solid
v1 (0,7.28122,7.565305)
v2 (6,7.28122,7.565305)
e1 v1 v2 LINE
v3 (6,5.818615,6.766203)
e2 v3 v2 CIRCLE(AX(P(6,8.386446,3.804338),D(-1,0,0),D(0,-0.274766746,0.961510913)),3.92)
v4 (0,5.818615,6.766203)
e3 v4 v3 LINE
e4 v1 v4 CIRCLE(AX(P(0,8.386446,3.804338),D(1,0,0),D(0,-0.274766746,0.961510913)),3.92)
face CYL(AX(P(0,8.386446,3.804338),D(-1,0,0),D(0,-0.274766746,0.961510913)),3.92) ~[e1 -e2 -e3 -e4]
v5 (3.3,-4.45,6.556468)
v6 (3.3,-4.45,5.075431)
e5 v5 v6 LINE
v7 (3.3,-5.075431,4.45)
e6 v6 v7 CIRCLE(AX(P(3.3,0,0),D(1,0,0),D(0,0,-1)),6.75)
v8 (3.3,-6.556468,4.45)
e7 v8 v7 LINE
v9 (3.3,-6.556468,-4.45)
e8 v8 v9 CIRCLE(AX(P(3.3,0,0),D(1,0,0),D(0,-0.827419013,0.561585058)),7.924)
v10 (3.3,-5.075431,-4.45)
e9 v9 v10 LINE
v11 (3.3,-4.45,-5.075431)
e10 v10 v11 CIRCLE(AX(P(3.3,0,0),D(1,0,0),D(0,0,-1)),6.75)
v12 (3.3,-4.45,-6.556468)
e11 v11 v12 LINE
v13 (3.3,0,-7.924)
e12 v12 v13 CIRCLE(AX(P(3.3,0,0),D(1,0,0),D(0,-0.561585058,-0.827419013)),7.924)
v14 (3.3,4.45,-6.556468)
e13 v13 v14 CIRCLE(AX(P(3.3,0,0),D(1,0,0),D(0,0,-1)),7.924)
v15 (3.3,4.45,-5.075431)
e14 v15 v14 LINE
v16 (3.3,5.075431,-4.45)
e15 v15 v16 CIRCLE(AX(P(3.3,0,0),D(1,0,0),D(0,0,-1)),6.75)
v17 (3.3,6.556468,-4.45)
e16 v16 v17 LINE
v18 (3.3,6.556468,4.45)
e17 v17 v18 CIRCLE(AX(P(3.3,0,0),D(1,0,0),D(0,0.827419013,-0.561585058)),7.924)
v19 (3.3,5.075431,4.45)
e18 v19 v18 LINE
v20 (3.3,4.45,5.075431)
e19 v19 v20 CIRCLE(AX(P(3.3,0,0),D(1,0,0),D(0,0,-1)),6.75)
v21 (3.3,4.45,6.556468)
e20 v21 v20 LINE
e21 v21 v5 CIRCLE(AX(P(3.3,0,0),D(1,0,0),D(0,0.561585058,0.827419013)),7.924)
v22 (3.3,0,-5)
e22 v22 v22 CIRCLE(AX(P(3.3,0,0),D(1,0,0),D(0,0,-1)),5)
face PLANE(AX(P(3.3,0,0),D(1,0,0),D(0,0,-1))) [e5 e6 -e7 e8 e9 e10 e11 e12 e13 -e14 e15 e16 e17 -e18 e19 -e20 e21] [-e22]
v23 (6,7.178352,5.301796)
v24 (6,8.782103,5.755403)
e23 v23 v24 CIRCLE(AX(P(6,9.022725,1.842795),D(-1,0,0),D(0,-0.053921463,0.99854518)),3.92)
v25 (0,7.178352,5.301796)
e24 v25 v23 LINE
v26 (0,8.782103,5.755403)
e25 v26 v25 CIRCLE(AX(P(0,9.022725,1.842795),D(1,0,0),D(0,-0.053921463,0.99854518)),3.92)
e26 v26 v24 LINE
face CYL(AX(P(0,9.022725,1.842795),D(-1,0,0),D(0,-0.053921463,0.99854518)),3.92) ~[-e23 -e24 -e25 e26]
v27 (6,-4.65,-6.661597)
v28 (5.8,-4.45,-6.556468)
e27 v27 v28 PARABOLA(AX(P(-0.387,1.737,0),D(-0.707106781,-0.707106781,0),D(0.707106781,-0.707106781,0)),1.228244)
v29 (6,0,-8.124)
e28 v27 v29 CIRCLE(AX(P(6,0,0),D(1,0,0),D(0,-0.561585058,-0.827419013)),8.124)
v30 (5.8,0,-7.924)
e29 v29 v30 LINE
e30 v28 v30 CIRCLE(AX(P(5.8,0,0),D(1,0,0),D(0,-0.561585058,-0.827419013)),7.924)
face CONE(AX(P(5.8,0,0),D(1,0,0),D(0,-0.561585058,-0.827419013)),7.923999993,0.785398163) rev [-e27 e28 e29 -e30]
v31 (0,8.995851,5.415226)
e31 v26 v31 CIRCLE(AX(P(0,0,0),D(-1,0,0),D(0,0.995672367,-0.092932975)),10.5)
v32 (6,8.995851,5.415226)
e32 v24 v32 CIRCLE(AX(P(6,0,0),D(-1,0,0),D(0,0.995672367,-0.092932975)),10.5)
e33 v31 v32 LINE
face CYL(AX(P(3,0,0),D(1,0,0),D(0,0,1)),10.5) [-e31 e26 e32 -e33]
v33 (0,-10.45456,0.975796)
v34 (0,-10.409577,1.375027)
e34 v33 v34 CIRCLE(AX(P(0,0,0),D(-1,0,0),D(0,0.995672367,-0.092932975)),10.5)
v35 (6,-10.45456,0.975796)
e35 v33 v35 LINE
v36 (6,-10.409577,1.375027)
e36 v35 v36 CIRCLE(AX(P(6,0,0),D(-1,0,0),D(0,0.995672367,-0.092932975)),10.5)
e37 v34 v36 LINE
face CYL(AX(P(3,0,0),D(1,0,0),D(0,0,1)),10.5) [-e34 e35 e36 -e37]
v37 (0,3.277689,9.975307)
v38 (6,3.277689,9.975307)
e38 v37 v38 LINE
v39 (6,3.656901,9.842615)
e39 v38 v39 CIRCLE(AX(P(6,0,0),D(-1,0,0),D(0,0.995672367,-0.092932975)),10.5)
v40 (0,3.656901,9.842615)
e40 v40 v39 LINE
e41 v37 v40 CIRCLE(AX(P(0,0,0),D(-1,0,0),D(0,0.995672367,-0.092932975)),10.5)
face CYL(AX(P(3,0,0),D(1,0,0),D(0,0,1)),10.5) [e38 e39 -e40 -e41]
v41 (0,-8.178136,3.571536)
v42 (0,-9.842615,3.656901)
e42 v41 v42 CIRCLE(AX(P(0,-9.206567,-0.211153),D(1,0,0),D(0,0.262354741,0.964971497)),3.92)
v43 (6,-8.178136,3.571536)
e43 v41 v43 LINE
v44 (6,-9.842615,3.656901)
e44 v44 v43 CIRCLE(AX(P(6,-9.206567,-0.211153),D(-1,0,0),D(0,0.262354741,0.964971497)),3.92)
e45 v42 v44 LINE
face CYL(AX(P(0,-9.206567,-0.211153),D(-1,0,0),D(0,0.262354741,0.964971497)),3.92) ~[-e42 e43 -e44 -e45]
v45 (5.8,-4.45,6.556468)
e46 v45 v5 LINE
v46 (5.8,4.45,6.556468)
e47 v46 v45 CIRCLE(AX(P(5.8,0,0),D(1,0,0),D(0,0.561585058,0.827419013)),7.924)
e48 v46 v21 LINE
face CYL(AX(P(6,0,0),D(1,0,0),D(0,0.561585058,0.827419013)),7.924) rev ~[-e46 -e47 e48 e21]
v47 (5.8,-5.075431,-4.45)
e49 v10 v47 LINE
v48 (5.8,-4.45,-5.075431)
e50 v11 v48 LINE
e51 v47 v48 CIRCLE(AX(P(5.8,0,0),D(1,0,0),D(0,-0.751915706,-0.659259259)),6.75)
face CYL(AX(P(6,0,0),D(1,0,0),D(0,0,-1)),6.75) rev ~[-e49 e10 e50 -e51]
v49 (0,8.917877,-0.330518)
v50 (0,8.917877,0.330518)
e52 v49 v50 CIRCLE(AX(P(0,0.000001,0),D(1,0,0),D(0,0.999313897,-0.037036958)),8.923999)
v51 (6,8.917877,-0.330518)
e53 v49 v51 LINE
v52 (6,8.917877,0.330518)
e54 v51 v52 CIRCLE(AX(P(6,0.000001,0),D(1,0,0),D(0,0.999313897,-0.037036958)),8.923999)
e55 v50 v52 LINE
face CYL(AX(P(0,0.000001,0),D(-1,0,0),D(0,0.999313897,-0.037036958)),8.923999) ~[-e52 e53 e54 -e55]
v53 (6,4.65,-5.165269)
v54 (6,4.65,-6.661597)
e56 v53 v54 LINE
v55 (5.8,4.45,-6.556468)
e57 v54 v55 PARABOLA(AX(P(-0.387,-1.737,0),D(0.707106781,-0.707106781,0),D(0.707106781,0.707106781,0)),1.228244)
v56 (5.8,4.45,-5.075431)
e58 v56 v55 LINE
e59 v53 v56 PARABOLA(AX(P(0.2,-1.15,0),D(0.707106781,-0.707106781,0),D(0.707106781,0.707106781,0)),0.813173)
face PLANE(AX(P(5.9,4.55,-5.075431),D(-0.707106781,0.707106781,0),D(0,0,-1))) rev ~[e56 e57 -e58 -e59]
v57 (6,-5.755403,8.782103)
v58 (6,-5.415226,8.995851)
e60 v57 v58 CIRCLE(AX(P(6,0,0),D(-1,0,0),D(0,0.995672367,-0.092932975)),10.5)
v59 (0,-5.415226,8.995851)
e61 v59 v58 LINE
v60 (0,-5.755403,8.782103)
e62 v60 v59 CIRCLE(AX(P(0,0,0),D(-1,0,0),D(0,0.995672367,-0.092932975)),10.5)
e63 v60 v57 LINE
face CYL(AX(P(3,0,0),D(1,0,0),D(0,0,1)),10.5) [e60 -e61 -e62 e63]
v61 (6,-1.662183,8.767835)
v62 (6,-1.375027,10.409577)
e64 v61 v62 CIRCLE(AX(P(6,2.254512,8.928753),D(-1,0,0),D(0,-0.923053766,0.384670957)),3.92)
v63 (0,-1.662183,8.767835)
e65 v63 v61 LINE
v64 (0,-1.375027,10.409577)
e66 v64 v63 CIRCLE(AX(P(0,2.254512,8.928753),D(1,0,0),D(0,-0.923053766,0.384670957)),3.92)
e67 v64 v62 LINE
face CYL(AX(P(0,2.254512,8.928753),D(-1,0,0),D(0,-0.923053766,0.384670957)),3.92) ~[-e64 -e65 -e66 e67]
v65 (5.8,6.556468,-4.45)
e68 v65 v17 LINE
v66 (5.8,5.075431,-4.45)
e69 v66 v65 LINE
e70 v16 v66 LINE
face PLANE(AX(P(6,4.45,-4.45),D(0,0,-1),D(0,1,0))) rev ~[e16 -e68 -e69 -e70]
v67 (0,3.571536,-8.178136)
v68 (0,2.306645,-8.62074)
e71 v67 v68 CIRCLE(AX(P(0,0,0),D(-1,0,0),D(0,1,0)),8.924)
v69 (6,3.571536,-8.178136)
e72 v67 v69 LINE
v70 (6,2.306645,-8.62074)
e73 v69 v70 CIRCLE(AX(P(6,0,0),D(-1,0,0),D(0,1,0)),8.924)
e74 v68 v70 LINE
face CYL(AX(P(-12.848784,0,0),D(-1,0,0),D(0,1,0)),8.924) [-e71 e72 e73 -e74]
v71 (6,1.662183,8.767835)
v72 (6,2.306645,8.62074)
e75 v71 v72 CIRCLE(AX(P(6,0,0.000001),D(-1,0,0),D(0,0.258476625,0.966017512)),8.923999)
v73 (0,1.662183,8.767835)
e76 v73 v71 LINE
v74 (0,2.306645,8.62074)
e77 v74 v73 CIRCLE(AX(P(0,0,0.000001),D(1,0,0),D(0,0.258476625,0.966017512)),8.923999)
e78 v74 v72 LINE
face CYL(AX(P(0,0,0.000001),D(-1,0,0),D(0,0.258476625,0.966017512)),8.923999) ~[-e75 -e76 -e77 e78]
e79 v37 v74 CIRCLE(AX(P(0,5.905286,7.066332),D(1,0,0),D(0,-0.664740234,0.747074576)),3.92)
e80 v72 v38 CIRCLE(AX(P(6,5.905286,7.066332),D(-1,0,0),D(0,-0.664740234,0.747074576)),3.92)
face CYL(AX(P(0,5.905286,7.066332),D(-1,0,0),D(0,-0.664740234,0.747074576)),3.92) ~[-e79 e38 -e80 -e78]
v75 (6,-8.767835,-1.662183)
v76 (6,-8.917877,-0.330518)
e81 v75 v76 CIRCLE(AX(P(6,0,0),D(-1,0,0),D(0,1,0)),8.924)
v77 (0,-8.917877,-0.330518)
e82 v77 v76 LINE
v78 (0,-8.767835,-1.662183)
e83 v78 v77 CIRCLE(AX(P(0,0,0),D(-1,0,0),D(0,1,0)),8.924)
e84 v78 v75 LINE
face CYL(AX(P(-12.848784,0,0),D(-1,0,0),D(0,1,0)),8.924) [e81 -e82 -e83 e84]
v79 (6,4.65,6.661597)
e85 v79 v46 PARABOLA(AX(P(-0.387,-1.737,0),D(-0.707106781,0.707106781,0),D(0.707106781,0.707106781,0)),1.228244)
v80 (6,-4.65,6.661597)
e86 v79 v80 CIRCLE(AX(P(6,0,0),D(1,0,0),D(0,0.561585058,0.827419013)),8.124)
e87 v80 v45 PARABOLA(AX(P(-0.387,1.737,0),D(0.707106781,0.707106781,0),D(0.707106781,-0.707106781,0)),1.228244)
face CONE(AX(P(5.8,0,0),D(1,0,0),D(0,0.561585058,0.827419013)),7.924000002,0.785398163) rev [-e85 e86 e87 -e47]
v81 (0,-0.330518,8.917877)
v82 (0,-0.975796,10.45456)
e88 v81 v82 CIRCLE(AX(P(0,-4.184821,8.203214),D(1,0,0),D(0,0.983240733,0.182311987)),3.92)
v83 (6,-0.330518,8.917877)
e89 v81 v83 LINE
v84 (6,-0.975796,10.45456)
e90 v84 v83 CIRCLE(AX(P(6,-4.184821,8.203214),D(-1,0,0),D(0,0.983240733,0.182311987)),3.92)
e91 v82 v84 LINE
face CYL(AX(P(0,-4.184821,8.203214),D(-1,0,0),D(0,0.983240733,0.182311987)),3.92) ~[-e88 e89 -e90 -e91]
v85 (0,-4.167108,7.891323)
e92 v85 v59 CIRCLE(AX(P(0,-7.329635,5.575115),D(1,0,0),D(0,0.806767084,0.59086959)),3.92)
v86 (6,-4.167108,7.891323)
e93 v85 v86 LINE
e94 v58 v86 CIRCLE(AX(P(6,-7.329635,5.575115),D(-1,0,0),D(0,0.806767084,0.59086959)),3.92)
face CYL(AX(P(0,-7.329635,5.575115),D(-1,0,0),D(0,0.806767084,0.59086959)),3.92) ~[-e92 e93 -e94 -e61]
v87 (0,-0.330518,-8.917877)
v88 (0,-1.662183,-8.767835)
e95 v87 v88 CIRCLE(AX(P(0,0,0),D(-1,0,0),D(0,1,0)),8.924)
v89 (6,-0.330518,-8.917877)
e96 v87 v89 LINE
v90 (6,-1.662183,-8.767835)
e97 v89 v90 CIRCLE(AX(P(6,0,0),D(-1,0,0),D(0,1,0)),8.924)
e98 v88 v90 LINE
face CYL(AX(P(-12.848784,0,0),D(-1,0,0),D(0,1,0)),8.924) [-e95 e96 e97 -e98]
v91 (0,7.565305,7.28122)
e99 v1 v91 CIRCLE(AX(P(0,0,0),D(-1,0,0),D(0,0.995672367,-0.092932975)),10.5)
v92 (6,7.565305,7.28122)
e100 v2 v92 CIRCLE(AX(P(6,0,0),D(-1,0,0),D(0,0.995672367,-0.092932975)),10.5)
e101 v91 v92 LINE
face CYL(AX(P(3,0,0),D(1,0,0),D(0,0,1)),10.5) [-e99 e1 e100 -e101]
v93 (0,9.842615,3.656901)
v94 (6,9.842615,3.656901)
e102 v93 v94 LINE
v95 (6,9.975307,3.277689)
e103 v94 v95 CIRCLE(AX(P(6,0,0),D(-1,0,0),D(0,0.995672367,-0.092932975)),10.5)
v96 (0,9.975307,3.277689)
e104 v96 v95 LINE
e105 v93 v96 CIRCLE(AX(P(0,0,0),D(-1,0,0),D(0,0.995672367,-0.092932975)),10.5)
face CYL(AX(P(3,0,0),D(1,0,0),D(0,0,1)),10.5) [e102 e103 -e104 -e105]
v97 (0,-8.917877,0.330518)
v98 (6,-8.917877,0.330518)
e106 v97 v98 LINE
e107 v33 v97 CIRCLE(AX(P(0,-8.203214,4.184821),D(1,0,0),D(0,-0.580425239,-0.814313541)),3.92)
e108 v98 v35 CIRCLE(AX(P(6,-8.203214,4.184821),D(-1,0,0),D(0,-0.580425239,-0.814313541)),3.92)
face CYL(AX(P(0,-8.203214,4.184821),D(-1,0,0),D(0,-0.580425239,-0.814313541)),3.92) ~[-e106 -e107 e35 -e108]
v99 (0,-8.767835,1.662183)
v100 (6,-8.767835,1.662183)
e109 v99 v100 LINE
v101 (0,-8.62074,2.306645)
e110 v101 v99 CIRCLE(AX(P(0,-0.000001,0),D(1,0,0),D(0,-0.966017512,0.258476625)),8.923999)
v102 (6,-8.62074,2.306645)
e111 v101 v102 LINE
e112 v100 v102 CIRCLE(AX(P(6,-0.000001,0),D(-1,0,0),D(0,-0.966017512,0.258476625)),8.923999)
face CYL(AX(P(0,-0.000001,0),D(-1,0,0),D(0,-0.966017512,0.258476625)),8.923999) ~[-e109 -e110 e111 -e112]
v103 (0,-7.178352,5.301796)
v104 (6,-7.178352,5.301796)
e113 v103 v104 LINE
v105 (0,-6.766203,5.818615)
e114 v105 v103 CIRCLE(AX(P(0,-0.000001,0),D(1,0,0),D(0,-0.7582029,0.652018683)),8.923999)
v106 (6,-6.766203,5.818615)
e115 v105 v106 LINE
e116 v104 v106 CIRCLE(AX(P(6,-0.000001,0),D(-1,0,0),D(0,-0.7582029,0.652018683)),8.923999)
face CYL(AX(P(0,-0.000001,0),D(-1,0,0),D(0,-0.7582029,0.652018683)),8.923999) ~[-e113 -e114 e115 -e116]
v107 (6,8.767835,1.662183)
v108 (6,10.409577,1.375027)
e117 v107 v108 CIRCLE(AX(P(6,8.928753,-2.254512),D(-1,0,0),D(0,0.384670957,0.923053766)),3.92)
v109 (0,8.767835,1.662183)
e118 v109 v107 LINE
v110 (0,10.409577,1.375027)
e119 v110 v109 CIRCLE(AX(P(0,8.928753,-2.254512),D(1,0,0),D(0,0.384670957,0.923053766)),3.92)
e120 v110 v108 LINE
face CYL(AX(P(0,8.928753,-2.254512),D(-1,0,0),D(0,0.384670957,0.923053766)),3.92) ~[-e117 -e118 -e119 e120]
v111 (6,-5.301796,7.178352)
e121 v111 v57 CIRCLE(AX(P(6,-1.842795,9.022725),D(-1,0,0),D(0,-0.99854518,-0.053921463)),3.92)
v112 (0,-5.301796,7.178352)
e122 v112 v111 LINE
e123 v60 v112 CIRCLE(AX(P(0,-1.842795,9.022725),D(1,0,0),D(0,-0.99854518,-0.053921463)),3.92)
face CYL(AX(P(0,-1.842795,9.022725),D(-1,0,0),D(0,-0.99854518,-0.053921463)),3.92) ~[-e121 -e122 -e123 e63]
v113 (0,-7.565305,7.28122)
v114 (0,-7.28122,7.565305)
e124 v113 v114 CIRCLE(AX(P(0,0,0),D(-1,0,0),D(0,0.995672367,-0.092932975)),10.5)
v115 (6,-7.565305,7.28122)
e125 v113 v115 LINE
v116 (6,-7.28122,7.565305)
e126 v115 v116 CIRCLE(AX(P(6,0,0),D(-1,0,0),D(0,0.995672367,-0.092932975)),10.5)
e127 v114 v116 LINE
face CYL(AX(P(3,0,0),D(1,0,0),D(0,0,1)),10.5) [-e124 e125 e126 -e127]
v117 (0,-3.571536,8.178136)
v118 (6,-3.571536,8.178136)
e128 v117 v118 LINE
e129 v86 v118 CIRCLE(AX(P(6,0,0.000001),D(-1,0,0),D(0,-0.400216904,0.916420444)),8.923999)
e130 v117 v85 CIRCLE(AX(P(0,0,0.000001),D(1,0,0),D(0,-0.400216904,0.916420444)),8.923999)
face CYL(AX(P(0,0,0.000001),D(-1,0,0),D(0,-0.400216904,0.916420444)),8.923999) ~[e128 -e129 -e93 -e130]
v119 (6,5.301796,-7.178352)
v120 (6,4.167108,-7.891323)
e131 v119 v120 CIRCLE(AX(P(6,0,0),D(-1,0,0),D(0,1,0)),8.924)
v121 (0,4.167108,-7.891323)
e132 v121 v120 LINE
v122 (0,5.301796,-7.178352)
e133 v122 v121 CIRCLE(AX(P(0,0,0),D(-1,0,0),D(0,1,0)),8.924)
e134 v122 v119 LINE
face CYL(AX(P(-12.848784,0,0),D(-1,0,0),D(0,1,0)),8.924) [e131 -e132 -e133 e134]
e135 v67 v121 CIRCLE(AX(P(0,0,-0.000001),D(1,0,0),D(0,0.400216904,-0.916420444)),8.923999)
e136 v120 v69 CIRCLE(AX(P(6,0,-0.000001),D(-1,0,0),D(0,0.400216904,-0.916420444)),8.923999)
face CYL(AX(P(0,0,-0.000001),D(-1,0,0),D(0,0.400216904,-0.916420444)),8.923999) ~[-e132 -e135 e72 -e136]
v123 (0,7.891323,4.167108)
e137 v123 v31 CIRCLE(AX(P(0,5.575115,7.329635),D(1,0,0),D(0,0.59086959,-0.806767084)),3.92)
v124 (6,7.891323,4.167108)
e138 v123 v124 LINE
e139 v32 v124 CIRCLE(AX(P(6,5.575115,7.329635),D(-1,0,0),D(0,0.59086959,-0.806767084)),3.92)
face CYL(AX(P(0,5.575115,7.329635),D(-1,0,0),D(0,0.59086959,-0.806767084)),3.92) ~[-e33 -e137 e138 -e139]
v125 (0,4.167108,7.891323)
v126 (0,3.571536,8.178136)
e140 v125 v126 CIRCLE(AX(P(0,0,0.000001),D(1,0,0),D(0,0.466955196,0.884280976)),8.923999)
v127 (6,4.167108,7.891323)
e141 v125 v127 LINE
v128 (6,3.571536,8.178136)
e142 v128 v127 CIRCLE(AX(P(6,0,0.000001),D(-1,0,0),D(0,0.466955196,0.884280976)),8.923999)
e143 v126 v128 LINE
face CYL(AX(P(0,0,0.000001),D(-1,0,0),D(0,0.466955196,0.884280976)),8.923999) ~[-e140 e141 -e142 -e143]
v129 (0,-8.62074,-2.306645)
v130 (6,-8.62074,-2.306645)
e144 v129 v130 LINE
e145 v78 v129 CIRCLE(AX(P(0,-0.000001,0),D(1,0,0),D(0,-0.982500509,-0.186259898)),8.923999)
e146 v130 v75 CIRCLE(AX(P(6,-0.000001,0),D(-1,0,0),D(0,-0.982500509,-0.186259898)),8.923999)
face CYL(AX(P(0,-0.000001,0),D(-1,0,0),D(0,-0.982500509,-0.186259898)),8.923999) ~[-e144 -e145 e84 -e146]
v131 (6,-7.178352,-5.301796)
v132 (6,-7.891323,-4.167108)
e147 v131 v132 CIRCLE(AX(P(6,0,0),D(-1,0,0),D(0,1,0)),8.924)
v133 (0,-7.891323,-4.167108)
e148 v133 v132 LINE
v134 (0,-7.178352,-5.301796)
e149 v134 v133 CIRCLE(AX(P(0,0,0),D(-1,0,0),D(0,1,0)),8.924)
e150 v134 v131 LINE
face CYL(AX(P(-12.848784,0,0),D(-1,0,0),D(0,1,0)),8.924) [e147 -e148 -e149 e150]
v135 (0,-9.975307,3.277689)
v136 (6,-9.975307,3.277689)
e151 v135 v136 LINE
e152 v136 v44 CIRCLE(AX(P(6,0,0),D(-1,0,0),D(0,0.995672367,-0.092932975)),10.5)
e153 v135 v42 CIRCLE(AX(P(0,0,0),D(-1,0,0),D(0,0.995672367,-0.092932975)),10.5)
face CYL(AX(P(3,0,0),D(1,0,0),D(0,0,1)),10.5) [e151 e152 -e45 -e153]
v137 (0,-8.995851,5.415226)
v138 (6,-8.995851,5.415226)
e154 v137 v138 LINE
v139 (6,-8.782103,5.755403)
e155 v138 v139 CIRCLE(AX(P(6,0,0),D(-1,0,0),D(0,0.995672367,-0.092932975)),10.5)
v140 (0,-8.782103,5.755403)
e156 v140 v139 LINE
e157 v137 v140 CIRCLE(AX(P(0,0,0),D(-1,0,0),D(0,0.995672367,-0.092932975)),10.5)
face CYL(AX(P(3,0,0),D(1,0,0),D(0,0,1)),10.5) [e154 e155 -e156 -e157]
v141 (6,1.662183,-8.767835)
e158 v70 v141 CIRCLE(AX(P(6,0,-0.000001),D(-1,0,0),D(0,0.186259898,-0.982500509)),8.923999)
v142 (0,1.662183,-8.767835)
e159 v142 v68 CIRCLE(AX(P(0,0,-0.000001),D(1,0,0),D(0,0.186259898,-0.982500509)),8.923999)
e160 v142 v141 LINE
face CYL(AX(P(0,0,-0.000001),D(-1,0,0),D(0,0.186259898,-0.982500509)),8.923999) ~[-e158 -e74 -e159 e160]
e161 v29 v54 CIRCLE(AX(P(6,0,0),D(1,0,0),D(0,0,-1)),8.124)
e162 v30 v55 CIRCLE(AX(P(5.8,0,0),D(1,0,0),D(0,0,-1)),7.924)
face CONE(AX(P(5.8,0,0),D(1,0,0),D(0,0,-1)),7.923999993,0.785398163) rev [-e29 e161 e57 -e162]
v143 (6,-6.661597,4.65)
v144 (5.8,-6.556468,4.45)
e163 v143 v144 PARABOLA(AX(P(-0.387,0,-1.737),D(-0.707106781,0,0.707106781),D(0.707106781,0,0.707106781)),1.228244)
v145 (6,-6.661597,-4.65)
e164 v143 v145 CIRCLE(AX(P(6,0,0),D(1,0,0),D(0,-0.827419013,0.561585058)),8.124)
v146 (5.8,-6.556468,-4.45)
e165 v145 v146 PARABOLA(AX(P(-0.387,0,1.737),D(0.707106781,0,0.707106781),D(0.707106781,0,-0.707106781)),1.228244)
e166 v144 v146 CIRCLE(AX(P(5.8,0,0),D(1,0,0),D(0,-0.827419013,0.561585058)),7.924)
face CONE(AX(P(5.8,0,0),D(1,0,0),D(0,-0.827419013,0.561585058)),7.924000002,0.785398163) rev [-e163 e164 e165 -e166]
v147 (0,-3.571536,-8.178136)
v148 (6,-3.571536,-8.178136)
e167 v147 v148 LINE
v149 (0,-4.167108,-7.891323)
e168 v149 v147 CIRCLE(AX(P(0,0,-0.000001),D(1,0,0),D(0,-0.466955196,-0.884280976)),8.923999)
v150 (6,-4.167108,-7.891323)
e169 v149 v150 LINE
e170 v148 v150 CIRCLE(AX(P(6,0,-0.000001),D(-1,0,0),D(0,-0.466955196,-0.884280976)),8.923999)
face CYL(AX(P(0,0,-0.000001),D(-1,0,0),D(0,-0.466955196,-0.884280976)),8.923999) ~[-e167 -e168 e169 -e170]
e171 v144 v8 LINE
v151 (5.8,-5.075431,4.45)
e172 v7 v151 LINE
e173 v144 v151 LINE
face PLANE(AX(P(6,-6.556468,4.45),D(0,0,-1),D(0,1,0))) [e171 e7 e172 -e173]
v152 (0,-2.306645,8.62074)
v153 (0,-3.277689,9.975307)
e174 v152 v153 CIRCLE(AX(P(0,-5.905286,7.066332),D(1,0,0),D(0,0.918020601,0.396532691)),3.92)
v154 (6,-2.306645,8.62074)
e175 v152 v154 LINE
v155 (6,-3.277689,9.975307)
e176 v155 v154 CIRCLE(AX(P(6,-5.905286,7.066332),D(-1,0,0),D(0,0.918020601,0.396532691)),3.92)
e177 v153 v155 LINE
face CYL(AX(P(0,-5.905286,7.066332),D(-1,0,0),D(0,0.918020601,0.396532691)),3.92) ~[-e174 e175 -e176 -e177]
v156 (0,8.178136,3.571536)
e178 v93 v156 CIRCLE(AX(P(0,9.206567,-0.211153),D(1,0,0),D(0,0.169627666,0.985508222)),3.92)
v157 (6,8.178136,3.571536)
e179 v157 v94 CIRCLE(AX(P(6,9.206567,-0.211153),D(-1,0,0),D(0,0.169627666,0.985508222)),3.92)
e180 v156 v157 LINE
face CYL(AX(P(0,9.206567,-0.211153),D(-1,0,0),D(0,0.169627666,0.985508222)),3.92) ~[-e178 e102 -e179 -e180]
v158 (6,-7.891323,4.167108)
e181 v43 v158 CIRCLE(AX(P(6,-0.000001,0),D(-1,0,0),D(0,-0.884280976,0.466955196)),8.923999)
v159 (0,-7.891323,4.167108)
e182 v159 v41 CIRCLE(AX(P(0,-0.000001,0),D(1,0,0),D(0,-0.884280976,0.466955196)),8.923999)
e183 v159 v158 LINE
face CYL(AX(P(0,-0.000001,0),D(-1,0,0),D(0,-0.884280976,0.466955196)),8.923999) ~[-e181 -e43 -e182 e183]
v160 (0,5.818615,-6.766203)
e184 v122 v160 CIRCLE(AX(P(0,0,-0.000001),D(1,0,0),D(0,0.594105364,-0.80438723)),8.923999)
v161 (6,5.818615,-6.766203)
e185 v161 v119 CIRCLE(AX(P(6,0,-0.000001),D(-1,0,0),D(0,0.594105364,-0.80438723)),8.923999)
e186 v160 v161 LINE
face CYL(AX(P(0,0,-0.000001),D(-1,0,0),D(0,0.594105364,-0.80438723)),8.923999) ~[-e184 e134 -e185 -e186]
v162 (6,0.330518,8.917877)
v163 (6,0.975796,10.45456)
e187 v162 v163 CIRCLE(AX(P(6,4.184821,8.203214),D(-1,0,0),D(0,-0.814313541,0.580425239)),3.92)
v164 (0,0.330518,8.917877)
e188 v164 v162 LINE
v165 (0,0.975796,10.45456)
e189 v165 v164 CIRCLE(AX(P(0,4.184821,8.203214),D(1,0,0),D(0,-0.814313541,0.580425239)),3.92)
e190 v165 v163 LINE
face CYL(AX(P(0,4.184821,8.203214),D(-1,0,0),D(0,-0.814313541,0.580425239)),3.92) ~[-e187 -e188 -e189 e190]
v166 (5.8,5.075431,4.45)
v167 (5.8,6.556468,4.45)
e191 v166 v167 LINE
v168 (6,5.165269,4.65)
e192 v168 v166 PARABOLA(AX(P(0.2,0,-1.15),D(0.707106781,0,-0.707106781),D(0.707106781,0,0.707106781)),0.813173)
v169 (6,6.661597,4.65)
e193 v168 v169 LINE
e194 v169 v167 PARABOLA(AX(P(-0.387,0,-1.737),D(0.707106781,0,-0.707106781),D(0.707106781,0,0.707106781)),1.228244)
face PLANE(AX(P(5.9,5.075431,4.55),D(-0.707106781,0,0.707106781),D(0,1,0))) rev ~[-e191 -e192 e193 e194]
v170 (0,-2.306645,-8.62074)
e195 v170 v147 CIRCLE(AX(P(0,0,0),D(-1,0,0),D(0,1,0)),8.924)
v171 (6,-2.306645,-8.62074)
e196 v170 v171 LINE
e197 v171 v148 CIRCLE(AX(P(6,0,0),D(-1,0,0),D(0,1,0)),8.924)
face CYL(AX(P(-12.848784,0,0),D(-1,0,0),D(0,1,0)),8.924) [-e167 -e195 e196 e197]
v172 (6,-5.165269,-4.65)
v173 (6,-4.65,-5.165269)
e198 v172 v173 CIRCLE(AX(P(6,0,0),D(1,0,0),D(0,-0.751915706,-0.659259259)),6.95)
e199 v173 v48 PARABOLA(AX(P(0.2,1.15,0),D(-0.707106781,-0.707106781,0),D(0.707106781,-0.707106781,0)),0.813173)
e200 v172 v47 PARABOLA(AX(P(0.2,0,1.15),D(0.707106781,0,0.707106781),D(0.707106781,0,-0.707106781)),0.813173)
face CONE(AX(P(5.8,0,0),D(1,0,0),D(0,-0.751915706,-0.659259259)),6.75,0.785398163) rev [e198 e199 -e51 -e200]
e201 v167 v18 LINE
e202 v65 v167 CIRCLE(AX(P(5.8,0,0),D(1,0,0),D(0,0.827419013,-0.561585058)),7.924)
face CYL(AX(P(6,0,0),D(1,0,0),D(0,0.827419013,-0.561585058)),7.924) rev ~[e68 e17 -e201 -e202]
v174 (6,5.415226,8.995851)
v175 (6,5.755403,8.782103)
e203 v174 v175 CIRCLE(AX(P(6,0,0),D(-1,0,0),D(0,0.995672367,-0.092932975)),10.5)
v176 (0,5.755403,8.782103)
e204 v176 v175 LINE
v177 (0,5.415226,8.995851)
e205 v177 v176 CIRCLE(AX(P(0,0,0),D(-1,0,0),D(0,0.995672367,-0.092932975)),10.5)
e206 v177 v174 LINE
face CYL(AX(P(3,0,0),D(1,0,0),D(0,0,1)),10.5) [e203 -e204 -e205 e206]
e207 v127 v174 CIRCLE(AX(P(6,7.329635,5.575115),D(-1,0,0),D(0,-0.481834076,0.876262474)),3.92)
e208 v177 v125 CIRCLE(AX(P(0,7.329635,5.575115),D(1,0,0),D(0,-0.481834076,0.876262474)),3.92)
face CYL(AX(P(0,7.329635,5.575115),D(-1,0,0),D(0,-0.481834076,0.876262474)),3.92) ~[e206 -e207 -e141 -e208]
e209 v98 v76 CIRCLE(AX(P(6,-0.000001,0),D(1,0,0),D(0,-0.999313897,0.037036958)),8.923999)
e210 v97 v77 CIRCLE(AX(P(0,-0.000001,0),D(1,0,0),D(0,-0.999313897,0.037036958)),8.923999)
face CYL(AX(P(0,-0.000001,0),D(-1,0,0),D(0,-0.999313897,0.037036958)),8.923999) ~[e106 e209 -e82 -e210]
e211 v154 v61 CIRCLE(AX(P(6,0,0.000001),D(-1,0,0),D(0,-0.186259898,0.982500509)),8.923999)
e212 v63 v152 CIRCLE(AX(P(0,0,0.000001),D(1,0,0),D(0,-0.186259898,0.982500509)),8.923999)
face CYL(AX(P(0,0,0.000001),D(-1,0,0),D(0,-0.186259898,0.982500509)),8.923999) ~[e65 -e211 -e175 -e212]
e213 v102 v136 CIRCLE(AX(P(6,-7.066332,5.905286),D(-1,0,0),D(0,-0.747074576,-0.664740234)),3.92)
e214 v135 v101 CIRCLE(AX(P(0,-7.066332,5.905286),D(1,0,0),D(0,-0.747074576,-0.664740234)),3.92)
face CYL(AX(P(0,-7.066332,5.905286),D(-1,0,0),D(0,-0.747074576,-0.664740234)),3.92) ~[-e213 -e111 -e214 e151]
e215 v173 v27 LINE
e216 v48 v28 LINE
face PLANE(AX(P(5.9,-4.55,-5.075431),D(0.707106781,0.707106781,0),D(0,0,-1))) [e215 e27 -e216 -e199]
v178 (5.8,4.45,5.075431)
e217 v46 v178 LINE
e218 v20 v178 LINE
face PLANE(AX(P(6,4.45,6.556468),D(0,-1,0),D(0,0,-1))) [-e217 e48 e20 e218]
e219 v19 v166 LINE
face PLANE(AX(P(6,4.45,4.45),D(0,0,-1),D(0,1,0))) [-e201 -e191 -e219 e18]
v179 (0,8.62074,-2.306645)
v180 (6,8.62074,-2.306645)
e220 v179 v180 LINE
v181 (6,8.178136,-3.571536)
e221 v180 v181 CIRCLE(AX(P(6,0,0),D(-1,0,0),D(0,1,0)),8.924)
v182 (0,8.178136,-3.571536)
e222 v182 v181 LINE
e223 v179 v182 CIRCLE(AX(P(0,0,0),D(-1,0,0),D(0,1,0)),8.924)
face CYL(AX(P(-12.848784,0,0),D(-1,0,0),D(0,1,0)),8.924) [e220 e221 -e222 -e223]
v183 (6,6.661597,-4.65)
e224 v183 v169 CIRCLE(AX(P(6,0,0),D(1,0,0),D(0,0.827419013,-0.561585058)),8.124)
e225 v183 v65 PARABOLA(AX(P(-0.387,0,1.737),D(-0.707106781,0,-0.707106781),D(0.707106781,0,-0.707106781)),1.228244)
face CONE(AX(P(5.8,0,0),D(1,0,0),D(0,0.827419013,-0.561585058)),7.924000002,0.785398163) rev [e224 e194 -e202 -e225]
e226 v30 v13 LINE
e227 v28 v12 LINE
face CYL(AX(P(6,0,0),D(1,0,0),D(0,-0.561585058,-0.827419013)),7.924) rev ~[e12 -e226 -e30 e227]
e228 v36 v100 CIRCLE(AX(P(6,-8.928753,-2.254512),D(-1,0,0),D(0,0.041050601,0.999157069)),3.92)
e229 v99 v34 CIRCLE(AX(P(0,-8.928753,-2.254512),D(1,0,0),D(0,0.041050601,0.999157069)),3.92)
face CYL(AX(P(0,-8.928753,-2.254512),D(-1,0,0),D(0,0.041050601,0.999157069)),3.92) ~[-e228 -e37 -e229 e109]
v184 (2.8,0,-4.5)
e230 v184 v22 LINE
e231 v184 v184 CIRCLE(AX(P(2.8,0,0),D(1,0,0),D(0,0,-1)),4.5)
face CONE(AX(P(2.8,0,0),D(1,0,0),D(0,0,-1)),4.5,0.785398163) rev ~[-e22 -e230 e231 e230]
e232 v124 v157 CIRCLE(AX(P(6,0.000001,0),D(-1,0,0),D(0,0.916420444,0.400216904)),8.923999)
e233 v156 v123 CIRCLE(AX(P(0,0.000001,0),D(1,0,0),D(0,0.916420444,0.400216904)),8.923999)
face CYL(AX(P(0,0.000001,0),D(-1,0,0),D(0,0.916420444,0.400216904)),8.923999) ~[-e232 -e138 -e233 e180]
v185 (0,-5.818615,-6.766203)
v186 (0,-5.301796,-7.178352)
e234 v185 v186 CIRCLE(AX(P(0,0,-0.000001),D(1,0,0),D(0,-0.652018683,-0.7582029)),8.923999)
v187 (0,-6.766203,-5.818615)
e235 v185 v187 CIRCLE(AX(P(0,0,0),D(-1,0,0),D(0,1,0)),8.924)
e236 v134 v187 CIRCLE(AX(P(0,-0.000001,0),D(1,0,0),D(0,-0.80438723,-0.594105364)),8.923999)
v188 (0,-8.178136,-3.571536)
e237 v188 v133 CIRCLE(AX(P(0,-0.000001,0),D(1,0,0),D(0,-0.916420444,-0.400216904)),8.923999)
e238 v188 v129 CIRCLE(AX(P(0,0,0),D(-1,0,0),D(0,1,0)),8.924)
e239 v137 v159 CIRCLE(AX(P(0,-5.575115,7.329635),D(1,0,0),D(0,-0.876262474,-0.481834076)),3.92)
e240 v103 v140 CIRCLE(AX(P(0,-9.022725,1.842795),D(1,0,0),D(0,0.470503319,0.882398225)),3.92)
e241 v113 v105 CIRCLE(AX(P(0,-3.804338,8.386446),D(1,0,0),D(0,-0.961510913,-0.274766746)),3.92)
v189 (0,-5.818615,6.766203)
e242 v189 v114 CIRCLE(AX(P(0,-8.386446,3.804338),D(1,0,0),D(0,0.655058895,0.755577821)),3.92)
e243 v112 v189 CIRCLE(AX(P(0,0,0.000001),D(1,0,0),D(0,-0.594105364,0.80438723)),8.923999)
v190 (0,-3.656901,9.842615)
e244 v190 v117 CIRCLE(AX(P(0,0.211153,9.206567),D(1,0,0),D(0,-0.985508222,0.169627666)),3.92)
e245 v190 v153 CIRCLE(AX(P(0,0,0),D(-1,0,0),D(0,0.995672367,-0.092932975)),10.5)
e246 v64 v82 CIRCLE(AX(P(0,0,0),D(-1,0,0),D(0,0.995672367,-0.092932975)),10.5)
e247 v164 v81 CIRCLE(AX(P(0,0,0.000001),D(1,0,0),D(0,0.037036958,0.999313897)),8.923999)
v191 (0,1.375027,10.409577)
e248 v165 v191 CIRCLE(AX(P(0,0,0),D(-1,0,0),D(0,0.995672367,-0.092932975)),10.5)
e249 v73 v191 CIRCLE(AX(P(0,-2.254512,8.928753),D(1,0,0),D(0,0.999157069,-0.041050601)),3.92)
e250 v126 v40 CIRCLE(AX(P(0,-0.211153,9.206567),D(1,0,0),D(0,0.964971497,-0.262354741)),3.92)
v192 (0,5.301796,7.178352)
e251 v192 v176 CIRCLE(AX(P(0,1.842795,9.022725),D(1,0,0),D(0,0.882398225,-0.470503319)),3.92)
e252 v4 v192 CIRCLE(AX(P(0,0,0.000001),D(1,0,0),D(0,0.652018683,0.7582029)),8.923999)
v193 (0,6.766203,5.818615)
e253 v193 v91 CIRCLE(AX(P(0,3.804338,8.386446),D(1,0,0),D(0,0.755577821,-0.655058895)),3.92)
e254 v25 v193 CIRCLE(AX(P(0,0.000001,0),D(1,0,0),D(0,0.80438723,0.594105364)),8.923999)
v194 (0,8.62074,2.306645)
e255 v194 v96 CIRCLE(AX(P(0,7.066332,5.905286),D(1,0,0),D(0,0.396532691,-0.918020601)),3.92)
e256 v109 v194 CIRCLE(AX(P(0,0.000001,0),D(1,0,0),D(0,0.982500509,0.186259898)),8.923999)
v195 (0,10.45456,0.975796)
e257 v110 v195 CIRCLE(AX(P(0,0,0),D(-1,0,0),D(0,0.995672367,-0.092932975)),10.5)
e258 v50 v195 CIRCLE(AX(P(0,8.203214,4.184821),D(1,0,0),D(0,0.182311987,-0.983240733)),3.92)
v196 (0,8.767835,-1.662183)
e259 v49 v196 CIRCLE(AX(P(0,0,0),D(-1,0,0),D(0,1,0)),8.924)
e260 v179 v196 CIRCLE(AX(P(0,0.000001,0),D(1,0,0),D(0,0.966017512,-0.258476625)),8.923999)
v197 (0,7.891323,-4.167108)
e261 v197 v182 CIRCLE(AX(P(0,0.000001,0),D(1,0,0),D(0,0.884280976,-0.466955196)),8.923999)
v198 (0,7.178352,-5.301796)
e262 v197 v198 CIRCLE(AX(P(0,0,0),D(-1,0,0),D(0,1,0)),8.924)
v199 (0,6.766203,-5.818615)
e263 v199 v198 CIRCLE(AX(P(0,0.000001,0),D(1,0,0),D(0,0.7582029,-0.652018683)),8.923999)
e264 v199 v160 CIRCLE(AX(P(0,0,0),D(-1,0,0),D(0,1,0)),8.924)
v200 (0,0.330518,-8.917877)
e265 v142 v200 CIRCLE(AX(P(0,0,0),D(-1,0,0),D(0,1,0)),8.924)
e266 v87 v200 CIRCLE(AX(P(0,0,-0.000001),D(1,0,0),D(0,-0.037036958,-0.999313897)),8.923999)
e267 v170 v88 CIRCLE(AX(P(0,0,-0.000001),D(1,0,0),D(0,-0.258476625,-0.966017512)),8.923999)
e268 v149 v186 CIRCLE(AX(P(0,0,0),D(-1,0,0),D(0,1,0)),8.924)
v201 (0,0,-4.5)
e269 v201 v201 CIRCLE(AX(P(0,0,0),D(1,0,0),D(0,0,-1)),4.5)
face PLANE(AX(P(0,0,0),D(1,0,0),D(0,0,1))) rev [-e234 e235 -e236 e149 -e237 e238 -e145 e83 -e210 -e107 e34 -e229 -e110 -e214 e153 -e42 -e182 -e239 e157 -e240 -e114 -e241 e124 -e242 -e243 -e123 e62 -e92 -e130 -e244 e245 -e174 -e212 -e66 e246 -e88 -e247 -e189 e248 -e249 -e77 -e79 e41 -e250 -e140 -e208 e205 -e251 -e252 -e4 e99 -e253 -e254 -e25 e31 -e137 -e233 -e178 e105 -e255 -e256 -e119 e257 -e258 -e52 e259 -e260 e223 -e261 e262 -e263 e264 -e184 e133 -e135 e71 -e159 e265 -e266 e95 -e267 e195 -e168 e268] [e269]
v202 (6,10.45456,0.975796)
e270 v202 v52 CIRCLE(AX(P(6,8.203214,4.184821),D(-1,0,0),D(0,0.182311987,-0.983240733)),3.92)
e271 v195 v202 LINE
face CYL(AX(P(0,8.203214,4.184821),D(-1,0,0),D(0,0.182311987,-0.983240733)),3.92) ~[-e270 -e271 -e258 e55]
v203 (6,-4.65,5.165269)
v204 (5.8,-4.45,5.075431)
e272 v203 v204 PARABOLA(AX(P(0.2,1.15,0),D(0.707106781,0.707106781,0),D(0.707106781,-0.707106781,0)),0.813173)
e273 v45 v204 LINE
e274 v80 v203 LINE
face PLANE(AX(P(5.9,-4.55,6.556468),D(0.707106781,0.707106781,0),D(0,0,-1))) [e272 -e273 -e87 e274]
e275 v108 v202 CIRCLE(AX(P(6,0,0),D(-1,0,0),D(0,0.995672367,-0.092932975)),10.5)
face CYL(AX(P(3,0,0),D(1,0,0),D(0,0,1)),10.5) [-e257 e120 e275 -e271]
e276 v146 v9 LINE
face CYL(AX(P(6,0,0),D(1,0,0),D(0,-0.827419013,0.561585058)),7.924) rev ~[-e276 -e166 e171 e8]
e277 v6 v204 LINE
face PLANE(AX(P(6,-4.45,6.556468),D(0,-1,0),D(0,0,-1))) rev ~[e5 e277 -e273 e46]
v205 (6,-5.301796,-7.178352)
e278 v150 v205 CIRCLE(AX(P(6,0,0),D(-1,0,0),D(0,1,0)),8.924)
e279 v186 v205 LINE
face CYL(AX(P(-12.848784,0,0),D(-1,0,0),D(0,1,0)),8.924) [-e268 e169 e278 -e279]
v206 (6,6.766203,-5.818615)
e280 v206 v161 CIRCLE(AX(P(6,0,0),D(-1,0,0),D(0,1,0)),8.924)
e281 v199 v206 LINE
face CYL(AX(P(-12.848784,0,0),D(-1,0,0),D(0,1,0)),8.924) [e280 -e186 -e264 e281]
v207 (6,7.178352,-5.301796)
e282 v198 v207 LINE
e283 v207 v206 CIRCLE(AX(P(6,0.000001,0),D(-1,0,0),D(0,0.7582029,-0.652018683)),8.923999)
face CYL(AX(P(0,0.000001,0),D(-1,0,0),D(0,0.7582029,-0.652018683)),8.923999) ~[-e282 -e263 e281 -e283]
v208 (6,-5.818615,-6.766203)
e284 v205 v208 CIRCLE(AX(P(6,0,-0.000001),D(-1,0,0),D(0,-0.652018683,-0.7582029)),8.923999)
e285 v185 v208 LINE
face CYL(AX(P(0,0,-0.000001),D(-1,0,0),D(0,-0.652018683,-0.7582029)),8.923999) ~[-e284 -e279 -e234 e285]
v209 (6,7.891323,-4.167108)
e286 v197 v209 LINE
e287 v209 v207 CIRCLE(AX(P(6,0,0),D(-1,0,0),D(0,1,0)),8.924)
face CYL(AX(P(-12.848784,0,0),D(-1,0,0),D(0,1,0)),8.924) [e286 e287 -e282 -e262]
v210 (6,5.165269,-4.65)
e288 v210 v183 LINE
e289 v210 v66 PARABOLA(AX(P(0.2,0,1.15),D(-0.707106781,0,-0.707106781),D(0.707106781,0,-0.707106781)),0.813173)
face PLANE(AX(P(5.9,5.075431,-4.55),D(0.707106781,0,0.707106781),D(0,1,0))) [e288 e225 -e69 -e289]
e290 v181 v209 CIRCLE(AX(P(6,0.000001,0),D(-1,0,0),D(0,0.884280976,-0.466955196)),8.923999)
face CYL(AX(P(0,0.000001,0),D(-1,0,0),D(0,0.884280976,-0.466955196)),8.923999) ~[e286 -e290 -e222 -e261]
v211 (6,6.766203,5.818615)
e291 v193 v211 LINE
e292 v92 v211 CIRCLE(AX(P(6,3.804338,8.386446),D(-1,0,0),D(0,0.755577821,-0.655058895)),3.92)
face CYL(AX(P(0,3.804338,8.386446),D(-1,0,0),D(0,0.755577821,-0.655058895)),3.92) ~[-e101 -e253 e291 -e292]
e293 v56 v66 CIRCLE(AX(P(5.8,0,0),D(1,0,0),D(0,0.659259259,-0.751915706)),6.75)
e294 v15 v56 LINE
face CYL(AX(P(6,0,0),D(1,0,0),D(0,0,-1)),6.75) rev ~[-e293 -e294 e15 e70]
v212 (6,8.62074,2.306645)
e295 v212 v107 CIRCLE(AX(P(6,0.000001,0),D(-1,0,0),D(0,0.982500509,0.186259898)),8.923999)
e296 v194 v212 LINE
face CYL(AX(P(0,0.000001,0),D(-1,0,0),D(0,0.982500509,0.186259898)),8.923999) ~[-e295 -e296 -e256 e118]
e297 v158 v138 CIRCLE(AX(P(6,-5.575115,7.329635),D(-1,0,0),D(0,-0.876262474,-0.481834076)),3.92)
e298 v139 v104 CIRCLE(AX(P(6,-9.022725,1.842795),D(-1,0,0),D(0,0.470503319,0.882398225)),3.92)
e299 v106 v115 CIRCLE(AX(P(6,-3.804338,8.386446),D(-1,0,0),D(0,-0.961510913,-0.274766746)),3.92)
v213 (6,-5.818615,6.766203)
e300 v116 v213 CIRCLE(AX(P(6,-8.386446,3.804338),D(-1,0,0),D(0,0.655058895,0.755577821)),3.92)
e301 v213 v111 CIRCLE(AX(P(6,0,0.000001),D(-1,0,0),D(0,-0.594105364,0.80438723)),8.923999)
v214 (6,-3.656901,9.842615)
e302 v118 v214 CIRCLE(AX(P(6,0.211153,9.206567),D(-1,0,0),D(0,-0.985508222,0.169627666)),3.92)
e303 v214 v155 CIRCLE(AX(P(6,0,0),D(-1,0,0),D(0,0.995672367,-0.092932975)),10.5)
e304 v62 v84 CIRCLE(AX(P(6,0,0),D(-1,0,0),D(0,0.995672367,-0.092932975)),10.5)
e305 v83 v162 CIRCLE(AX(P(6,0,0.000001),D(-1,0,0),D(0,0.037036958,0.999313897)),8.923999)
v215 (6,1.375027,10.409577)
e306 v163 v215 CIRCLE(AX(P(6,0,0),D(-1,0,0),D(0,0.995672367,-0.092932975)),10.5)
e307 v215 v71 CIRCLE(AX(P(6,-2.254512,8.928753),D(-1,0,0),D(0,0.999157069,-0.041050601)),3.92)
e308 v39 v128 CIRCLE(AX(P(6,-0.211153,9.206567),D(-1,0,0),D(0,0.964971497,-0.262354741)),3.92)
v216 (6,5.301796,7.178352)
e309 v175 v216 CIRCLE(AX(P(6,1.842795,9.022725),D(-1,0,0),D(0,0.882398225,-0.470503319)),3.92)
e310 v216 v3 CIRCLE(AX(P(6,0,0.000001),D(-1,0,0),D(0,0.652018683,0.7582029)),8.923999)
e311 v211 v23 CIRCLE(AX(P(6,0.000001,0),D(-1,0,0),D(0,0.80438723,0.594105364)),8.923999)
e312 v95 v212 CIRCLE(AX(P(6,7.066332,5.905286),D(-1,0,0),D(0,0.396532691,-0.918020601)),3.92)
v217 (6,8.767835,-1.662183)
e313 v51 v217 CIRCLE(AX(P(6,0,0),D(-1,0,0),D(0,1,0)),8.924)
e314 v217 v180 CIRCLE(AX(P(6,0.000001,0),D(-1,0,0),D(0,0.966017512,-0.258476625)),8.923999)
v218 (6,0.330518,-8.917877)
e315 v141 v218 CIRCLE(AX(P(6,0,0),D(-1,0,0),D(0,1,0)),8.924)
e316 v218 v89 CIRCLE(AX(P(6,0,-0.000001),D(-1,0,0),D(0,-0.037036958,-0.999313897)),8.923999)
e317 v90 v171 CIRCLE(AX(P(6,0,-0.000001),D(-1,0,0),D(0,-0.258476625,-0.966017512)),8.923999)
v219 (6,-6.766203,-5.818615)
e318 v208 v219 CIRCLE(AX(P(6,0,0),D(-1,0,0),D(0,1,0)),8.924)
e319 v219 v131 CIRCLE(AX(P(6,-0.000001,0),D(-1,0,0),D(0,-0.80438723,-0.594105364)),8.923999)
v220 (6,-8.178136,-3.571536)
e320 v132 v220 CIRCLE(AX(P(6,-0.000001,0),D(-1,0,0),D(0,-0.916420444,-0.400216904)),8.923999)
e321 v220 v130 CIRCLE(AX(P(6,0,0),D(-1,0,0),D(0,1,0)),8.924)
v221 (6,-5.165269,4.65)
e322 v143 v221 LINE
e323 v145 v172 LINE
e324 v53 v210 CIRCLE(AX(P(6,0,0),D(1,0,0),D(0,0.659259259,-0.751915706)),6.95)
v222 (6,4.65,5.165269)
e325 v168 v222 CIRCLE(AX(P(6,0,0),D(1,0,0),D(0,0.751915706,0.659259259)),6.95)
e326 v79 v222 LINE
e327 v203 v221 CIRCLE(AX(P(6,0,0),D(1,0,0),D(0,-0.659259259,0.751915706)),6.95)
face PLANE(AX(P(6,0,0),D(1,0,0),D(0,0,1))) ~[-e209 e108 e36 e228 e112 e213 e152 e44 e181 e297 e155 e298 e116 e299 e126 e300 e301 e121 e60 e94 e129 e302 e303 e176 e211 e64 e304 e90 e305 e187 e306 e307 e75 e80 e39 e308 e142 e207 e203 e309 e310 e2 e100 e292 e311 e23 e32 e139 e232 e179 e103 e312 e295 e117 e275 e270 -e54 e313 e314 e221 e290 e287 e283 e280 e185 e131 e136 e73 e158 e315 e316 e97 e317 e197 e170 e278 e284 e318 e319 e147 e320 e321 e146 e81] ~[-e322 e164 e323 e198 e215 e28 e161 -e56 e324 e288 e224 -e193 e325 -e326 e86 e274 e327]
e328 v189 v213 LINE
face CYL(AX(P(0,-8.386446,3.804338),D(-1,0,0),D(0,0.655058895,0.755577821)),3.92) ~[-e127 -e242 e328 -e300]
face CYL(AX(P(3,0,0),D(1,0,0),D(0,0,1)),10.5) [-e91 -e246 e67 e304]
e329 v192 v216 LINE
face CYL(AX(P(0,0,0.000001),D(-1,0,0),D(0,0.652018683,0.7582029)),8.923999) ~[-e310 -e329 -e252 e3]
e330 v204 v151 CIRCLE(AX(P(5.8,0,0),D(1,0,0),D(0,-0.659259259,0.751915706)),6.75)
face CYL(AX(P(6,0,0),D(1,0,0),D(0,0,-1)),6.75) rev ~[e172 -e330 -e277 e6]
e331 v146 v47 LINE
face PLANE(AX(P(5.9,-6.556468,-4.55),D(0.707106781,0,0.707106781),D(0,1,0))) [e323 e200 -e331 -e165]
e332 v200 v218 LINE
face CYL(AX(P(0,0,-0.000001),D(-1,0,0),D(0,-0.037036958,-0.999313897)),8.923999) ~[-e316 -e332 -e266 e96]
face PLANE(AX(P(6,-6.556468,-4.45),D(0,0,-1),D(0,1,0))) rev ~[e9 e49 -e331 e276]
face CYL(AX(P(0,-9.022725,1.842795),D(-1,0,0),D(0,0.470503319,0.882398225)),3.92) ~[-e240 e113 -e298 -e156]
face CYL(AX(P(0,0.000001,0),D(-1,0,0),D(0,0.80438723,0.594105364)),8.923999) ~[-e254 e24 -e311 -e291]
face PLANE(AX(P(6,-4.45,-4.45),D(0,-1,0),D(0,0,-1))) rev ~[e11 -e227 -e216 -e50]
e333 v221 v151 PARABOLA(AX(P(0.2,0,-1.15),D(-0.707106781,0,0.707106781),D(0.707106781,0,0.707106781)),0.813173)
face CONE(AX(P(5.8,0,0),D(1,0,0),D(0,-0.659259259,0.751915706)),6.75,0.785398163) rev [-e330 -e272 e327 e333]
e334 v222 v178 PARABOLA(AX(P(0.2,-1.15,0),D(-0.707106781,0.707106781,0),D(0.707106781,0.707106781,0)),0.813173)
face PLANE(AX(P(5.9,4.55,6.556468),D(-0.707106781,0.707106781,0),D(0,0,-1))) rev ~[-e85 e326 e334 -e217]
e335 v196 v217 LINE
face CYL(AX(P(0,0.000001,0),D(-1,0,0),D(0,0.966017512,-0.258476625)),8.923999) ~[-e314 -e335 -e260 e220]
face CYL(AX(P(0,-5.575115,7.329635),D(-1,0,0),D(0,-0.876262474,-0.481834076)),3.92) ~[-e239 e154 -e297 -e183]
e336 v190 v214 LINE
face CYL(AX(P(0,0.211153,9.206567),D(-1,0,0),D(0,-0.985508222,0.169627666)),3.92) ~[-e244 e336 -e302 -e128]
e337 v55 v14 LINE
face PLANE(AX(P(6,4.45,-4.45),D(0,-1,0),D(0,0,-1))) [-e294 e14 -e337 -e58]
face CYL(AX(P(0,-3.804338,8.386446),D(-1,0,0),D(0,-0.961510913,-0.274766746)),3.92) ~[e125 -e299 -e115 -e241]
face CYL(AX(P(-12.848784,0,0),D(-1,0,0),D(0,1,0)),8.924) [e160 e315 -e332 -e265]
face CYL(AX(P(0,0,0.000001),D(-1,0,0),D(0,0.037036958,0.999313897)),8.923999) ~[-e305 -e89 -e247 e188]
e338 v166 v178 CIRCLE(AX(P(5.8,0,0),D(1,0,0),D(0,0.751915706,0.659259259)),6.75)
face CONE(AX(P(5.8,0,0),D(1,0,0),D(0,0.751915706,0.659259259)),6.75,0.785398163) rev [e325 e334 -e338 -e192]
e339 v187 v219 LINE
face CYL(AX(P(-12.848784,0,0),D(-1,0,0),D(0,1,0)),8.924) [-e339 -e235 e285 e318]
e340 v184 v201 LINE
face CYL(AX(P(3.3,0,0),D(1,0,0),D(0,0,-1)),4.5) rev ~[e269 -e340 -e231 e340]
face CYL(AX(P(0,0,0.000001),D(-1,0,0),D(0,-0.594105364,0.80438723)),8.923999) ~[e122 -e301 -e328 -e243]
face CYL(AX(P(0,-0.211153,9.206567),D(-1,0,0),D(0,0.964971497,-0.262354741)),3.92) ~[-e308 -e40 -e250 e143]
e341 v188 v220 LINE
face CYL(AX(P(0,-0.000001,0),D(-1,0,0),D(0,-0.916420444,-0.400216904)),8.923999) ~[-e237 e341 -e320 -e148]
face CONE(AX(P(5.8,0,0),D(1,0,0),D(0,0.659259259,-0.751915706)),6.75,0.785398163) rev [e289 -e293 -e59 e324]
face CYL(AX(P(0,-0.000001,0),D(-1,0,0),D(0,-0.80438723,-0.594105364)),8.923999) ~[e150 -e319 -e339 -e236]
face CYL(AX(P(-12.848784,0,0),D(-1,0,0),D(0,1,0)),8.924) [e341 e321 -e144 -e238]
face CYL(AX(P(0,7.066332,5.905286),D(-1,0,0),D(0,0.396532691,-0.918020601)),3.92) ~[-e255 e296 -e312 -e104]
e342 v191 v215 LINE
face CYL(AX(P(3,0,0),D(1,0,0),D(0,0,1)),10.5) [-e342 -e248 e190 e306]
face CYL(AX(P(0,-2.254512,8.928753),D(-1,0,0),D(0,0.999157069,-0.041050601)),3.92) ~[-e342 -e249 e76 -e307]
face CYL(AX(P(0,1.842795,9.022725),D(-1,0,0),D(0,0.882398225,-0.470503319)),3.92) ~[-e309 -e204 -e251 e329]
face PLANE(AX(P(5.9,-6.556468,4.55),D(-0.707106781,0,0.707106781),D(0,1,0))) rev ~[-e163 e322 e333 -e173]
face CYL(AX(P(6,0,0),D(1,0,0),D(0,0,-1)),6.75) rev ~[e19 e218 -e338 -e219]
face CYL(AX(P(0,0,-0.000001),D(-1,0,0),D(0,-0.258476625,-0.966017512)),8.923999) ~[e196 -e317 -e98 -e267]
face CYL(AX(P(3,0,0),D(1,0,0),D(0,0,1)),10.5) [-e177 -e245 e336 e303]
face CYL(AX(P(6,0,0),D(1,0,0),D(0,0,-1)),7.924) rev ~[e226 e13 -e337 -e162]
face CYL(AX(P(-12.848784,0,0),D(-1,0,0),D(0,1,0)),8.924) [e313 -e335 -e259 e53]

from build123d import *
from build123d.topology import SkipClean

# Parameters (mm, degrees)
BASPROSKE_W                     = 6
BASPROSKE_H                     = 10.5
TOOTHCUT_DEPTH                  = 17.015617378
TEETHCUTS_COUNT                 = 28
TEETHCUTS_ANGLE                 = 347.142857143
BORSKE_R                        = 1.5
BORE_DEPTH                      = 50.0000508
SZKIC1_R                        = 6.75
WYTNIJ_WYCI_GNI_CIE1_DEPTH      = 2.7
SZKIC2_R                        = 4.5
WYTNIJ_WYCI_GNI_CIE2_DEPTH      = 16.148783562
SZKIC3_W                        = 8.9
SZKIC3_H                        = 2.106468257
SZKIC3_W_2                      = 2.106468257
SZKIC3_H_2                      = 8.9
WYTNIJ_WYCI_GNI_CIE3_DEPTH      = 2.7
WYTNIJ_WYCI_GNI_CIE4_DEPTH      = 16.148783562
WYTNIJ_WYCI_GNI_CIE4_DEPTH_BACK = 16.148783562
SFAZOWANIE1_SIZE                = 0.2
SFAZOWANIE2_SIZE                = 0.5


with BuildPart() as part:
    # BasProSke → Base-Revolve (revolve)
    with BuildSketch(Plane(origin=(0, 0, 0), x_dir=(1, 0, 0), z_dir=(0, 1, 0)), mode=Mode.PRIVATE) as base_revolve_sk:
        with Locations((3, 5.25)):
            Rectangle(BASPROSKE_W, BASPROSKE_H)
    revolve(base_revolve_sk.sketch.rotate(Axis((-10, 0, 0), (1, 0, 0)), 180), axis=Axis((-10, 0, 0), (1, 0, 0)))

    # TooCutSke → ToothCut (cut, through all)
    with BuildSketch(Plane(origin=(0, 0, 0), x_dir=(0, 0, -1), z_dir=(1, 0, 0))):
        with BuildLine():
            ThreePointArc((0.330517784, 8.917877213), (0, 8.924), (-0.330517784, 8.917877213))
            ThreePointArc((-0.330517784, 8.917877213), (-0.576240803, 9.73440515), (-0.992712377, 10.478481154))
            ThreePointArc((-0.992712377, 10.478481154), (0, 10.5254), (0.992712377, 10.478481154))
            ThreePointArc((0.992712377, 10.478481154), (0.576240803, 9.73440515), (0.330517784, 8.917877213))
        make_face()
    toothcut = extrude(amount=TOOTHCUT_DEPTH, mode=Mode.SUBTRACT)

    # TeethCuts: ToothCut ×28 about axis
    teethcuts_axis = Axis((-10, 0, 0), (1, 0, 0))
    for i in range(1, TEETHCUTS_COUNT):
        add(toothcut.rotate(teethcuts_axis, i * TEETHCUTS_ANGLE / (TEETHCUTS_COUNT - 1)), mode=Mode.SUBTRACT)

    # BorSke → Bore (cut, symmetric)
    with BuildSketch(Plane(origin=(0, 0, 0), x_dir=(0, 0, -1), z_dir=(1, 0, 0))):
        with Locations(Location((0, 0, 0), (0, 0, 180))):
            Circle(BORSKE_R)
    extrude(amount=BORE_DEPTH, both=True, mode=Mode.SUBTRACT)

    # Szkic1 → Wytnij-wyciągnięcie1 (cut)
    with BuildSketch(Plane(origin=(6, 0, 0), x_dir=(0, 0, -1), z_dir=(1, 0, 0))):
        Circle(SZKIC1_R)
    extrude(amount=-WYTNIJ_WYCI_GNI_CIE1_DEPTH, mode=Mode.SUBTRACT)

    # Szkic2 → Wytnij-wyciągnięcie2 (cut, through all)
    with BuildSketch(Plane(origin=(3.3, 0, 0), x_dir=(0, 0, -1), z_dir=(1, 0, 0))):
        Circle(SZKIC2_R)
    extrude(amount=-WYTNIJ_WYCI_GNI_CIE2_DEPTH, mode=Mode.SUBTRACT)

    # Szkic3 → Wytnij-wyciągnięcie3 (cut)
    with BuildSketch(Plane(origin=(6, 0, 0), x_dir=(0, 0, -1), z_dir=(1, 0, 0))):
        with Locations((0, 5.503234129)):
            Rectangle(SZKIC3_W, SZKIC3_H)
        with Locations((-5.503234129, 0)):
            Rectangle(SZKIC3_W_2, SZKIC3_H_2)
        with BuildLine():
            ThreePointArc((-6.556468257, 4.45), (-7.924, 0), (-6.556468257, -4.45))
            Line((-6.556468257, -4.45), (-6.556468257, 4.45))
        make_face()
        with BuildLine():
            Line((-4.45, 6.556468257), (4.45, 6.556468257))
            ThreePointArc((4.45, 6.556468257), (0, 7.924), (-4.45, 6.556468257))
        make_face()
        with BuildLine():
            Line((6.556468257, 4.45), (6.556468257, -4.45))
            ThreePointArc((6.556468257, -4.45), (7.574405273, -2.327694303), (7.924, 0))
            ThreePointArc((7.924, 0), (7.574405273, 2.327694303), (6.556468257, 4.45))
        make_face()
        with Locations((5.503234129, 0)):
            Rectangle(SZKIC3_W_2, SZKIC3_H_2)
        with BuildLine():
            ThreePointArc((-4.45, -6.556468257), (0, -7.924), (4.45, -6.556468257))
            Line((4.45, -6.556468257), (-4.45, -6.556468257))
        make_face()
        with Locations((0, -5.503234129)):
            Rectangle(SZKIC3_W, SZKIC3_H)
    extrude(amount=-WYTNIJ_WYCI_GNI_CIE3_DEPTH, mode=Mode.SUBTRACT)

    # Szkic4 → Wytnij-wyciągnięcie4 (cut, two sides: drawn at the far end of the back side and taken through both)
    with SkipClean():  # the faces are left unmerged after this step: merging them gives an invalid solid
        with BuildSketch(Plane(origin=(3.3, 0, 0), x_dir=(0, 0, -1), z_dir=(1, 0, 0)).offset(-WYTNIJ_WYCI_GNI_CIE4_DEPTH_BACK)):
            with BuildLine():
                Line((0, 10.924), (0, 8.924))
                ThreePointArc((0, 8.924), (8.924, 0), (0, -8.924))
                Line((0, -8.924), (0, -10.924))
                ThreePointArc((0, -10.924), (10.924, 0), (0, 10.924))
            make_face()
        extrude(amount=WYTNIJ_WYCI_GNI_CIE4_DEPTH + WYTNIJ_WYCI_GNI_CIE4_DEPTH_BACK, mode=Mode.SUBTRACT)

    # Sfazowanie1
    sfazowanie1_edges = [part.edges().sort_by_distance(p)[0] for p in [
        (6, 4.772970773, -4.772970773),
        (6, -4.772970773, 4.772970773),
        (6, 4.45, 5.815949636),
        (6, 0, 7.924),
        (6, -4.45, 5.815949636),
        (6, 4.45, -5.815949636),
        (6, 0, -7.924),
        (6, -4.45, -5.815949636),
        (6, 4.772970773, 4.772970773),
        (6, 5.815949636, -4.45),
        (6, 7.924, 0),
        (6, 5.815949636, 4.45),
        (6, -4.772970773, -4.772970773),
        (6, -5.815949636, -4.45),
        (6, -7.924, 0),
        (6, -5.815949636, 4.45),
    ]]
    chamfer(sfazowanie1_edges, length=SFAZOWANIE1_SIZE)

    # Sfazowanie2
    sfazowanie2_edges = [part.edges().sort_by_distance(p)[0] for p in [
        (3.3, 0, 4.5),
    ]]
    chamfer(sfazowanie2_edges, length=SFAZOWANIE2_SIZE)


solid = part.part
